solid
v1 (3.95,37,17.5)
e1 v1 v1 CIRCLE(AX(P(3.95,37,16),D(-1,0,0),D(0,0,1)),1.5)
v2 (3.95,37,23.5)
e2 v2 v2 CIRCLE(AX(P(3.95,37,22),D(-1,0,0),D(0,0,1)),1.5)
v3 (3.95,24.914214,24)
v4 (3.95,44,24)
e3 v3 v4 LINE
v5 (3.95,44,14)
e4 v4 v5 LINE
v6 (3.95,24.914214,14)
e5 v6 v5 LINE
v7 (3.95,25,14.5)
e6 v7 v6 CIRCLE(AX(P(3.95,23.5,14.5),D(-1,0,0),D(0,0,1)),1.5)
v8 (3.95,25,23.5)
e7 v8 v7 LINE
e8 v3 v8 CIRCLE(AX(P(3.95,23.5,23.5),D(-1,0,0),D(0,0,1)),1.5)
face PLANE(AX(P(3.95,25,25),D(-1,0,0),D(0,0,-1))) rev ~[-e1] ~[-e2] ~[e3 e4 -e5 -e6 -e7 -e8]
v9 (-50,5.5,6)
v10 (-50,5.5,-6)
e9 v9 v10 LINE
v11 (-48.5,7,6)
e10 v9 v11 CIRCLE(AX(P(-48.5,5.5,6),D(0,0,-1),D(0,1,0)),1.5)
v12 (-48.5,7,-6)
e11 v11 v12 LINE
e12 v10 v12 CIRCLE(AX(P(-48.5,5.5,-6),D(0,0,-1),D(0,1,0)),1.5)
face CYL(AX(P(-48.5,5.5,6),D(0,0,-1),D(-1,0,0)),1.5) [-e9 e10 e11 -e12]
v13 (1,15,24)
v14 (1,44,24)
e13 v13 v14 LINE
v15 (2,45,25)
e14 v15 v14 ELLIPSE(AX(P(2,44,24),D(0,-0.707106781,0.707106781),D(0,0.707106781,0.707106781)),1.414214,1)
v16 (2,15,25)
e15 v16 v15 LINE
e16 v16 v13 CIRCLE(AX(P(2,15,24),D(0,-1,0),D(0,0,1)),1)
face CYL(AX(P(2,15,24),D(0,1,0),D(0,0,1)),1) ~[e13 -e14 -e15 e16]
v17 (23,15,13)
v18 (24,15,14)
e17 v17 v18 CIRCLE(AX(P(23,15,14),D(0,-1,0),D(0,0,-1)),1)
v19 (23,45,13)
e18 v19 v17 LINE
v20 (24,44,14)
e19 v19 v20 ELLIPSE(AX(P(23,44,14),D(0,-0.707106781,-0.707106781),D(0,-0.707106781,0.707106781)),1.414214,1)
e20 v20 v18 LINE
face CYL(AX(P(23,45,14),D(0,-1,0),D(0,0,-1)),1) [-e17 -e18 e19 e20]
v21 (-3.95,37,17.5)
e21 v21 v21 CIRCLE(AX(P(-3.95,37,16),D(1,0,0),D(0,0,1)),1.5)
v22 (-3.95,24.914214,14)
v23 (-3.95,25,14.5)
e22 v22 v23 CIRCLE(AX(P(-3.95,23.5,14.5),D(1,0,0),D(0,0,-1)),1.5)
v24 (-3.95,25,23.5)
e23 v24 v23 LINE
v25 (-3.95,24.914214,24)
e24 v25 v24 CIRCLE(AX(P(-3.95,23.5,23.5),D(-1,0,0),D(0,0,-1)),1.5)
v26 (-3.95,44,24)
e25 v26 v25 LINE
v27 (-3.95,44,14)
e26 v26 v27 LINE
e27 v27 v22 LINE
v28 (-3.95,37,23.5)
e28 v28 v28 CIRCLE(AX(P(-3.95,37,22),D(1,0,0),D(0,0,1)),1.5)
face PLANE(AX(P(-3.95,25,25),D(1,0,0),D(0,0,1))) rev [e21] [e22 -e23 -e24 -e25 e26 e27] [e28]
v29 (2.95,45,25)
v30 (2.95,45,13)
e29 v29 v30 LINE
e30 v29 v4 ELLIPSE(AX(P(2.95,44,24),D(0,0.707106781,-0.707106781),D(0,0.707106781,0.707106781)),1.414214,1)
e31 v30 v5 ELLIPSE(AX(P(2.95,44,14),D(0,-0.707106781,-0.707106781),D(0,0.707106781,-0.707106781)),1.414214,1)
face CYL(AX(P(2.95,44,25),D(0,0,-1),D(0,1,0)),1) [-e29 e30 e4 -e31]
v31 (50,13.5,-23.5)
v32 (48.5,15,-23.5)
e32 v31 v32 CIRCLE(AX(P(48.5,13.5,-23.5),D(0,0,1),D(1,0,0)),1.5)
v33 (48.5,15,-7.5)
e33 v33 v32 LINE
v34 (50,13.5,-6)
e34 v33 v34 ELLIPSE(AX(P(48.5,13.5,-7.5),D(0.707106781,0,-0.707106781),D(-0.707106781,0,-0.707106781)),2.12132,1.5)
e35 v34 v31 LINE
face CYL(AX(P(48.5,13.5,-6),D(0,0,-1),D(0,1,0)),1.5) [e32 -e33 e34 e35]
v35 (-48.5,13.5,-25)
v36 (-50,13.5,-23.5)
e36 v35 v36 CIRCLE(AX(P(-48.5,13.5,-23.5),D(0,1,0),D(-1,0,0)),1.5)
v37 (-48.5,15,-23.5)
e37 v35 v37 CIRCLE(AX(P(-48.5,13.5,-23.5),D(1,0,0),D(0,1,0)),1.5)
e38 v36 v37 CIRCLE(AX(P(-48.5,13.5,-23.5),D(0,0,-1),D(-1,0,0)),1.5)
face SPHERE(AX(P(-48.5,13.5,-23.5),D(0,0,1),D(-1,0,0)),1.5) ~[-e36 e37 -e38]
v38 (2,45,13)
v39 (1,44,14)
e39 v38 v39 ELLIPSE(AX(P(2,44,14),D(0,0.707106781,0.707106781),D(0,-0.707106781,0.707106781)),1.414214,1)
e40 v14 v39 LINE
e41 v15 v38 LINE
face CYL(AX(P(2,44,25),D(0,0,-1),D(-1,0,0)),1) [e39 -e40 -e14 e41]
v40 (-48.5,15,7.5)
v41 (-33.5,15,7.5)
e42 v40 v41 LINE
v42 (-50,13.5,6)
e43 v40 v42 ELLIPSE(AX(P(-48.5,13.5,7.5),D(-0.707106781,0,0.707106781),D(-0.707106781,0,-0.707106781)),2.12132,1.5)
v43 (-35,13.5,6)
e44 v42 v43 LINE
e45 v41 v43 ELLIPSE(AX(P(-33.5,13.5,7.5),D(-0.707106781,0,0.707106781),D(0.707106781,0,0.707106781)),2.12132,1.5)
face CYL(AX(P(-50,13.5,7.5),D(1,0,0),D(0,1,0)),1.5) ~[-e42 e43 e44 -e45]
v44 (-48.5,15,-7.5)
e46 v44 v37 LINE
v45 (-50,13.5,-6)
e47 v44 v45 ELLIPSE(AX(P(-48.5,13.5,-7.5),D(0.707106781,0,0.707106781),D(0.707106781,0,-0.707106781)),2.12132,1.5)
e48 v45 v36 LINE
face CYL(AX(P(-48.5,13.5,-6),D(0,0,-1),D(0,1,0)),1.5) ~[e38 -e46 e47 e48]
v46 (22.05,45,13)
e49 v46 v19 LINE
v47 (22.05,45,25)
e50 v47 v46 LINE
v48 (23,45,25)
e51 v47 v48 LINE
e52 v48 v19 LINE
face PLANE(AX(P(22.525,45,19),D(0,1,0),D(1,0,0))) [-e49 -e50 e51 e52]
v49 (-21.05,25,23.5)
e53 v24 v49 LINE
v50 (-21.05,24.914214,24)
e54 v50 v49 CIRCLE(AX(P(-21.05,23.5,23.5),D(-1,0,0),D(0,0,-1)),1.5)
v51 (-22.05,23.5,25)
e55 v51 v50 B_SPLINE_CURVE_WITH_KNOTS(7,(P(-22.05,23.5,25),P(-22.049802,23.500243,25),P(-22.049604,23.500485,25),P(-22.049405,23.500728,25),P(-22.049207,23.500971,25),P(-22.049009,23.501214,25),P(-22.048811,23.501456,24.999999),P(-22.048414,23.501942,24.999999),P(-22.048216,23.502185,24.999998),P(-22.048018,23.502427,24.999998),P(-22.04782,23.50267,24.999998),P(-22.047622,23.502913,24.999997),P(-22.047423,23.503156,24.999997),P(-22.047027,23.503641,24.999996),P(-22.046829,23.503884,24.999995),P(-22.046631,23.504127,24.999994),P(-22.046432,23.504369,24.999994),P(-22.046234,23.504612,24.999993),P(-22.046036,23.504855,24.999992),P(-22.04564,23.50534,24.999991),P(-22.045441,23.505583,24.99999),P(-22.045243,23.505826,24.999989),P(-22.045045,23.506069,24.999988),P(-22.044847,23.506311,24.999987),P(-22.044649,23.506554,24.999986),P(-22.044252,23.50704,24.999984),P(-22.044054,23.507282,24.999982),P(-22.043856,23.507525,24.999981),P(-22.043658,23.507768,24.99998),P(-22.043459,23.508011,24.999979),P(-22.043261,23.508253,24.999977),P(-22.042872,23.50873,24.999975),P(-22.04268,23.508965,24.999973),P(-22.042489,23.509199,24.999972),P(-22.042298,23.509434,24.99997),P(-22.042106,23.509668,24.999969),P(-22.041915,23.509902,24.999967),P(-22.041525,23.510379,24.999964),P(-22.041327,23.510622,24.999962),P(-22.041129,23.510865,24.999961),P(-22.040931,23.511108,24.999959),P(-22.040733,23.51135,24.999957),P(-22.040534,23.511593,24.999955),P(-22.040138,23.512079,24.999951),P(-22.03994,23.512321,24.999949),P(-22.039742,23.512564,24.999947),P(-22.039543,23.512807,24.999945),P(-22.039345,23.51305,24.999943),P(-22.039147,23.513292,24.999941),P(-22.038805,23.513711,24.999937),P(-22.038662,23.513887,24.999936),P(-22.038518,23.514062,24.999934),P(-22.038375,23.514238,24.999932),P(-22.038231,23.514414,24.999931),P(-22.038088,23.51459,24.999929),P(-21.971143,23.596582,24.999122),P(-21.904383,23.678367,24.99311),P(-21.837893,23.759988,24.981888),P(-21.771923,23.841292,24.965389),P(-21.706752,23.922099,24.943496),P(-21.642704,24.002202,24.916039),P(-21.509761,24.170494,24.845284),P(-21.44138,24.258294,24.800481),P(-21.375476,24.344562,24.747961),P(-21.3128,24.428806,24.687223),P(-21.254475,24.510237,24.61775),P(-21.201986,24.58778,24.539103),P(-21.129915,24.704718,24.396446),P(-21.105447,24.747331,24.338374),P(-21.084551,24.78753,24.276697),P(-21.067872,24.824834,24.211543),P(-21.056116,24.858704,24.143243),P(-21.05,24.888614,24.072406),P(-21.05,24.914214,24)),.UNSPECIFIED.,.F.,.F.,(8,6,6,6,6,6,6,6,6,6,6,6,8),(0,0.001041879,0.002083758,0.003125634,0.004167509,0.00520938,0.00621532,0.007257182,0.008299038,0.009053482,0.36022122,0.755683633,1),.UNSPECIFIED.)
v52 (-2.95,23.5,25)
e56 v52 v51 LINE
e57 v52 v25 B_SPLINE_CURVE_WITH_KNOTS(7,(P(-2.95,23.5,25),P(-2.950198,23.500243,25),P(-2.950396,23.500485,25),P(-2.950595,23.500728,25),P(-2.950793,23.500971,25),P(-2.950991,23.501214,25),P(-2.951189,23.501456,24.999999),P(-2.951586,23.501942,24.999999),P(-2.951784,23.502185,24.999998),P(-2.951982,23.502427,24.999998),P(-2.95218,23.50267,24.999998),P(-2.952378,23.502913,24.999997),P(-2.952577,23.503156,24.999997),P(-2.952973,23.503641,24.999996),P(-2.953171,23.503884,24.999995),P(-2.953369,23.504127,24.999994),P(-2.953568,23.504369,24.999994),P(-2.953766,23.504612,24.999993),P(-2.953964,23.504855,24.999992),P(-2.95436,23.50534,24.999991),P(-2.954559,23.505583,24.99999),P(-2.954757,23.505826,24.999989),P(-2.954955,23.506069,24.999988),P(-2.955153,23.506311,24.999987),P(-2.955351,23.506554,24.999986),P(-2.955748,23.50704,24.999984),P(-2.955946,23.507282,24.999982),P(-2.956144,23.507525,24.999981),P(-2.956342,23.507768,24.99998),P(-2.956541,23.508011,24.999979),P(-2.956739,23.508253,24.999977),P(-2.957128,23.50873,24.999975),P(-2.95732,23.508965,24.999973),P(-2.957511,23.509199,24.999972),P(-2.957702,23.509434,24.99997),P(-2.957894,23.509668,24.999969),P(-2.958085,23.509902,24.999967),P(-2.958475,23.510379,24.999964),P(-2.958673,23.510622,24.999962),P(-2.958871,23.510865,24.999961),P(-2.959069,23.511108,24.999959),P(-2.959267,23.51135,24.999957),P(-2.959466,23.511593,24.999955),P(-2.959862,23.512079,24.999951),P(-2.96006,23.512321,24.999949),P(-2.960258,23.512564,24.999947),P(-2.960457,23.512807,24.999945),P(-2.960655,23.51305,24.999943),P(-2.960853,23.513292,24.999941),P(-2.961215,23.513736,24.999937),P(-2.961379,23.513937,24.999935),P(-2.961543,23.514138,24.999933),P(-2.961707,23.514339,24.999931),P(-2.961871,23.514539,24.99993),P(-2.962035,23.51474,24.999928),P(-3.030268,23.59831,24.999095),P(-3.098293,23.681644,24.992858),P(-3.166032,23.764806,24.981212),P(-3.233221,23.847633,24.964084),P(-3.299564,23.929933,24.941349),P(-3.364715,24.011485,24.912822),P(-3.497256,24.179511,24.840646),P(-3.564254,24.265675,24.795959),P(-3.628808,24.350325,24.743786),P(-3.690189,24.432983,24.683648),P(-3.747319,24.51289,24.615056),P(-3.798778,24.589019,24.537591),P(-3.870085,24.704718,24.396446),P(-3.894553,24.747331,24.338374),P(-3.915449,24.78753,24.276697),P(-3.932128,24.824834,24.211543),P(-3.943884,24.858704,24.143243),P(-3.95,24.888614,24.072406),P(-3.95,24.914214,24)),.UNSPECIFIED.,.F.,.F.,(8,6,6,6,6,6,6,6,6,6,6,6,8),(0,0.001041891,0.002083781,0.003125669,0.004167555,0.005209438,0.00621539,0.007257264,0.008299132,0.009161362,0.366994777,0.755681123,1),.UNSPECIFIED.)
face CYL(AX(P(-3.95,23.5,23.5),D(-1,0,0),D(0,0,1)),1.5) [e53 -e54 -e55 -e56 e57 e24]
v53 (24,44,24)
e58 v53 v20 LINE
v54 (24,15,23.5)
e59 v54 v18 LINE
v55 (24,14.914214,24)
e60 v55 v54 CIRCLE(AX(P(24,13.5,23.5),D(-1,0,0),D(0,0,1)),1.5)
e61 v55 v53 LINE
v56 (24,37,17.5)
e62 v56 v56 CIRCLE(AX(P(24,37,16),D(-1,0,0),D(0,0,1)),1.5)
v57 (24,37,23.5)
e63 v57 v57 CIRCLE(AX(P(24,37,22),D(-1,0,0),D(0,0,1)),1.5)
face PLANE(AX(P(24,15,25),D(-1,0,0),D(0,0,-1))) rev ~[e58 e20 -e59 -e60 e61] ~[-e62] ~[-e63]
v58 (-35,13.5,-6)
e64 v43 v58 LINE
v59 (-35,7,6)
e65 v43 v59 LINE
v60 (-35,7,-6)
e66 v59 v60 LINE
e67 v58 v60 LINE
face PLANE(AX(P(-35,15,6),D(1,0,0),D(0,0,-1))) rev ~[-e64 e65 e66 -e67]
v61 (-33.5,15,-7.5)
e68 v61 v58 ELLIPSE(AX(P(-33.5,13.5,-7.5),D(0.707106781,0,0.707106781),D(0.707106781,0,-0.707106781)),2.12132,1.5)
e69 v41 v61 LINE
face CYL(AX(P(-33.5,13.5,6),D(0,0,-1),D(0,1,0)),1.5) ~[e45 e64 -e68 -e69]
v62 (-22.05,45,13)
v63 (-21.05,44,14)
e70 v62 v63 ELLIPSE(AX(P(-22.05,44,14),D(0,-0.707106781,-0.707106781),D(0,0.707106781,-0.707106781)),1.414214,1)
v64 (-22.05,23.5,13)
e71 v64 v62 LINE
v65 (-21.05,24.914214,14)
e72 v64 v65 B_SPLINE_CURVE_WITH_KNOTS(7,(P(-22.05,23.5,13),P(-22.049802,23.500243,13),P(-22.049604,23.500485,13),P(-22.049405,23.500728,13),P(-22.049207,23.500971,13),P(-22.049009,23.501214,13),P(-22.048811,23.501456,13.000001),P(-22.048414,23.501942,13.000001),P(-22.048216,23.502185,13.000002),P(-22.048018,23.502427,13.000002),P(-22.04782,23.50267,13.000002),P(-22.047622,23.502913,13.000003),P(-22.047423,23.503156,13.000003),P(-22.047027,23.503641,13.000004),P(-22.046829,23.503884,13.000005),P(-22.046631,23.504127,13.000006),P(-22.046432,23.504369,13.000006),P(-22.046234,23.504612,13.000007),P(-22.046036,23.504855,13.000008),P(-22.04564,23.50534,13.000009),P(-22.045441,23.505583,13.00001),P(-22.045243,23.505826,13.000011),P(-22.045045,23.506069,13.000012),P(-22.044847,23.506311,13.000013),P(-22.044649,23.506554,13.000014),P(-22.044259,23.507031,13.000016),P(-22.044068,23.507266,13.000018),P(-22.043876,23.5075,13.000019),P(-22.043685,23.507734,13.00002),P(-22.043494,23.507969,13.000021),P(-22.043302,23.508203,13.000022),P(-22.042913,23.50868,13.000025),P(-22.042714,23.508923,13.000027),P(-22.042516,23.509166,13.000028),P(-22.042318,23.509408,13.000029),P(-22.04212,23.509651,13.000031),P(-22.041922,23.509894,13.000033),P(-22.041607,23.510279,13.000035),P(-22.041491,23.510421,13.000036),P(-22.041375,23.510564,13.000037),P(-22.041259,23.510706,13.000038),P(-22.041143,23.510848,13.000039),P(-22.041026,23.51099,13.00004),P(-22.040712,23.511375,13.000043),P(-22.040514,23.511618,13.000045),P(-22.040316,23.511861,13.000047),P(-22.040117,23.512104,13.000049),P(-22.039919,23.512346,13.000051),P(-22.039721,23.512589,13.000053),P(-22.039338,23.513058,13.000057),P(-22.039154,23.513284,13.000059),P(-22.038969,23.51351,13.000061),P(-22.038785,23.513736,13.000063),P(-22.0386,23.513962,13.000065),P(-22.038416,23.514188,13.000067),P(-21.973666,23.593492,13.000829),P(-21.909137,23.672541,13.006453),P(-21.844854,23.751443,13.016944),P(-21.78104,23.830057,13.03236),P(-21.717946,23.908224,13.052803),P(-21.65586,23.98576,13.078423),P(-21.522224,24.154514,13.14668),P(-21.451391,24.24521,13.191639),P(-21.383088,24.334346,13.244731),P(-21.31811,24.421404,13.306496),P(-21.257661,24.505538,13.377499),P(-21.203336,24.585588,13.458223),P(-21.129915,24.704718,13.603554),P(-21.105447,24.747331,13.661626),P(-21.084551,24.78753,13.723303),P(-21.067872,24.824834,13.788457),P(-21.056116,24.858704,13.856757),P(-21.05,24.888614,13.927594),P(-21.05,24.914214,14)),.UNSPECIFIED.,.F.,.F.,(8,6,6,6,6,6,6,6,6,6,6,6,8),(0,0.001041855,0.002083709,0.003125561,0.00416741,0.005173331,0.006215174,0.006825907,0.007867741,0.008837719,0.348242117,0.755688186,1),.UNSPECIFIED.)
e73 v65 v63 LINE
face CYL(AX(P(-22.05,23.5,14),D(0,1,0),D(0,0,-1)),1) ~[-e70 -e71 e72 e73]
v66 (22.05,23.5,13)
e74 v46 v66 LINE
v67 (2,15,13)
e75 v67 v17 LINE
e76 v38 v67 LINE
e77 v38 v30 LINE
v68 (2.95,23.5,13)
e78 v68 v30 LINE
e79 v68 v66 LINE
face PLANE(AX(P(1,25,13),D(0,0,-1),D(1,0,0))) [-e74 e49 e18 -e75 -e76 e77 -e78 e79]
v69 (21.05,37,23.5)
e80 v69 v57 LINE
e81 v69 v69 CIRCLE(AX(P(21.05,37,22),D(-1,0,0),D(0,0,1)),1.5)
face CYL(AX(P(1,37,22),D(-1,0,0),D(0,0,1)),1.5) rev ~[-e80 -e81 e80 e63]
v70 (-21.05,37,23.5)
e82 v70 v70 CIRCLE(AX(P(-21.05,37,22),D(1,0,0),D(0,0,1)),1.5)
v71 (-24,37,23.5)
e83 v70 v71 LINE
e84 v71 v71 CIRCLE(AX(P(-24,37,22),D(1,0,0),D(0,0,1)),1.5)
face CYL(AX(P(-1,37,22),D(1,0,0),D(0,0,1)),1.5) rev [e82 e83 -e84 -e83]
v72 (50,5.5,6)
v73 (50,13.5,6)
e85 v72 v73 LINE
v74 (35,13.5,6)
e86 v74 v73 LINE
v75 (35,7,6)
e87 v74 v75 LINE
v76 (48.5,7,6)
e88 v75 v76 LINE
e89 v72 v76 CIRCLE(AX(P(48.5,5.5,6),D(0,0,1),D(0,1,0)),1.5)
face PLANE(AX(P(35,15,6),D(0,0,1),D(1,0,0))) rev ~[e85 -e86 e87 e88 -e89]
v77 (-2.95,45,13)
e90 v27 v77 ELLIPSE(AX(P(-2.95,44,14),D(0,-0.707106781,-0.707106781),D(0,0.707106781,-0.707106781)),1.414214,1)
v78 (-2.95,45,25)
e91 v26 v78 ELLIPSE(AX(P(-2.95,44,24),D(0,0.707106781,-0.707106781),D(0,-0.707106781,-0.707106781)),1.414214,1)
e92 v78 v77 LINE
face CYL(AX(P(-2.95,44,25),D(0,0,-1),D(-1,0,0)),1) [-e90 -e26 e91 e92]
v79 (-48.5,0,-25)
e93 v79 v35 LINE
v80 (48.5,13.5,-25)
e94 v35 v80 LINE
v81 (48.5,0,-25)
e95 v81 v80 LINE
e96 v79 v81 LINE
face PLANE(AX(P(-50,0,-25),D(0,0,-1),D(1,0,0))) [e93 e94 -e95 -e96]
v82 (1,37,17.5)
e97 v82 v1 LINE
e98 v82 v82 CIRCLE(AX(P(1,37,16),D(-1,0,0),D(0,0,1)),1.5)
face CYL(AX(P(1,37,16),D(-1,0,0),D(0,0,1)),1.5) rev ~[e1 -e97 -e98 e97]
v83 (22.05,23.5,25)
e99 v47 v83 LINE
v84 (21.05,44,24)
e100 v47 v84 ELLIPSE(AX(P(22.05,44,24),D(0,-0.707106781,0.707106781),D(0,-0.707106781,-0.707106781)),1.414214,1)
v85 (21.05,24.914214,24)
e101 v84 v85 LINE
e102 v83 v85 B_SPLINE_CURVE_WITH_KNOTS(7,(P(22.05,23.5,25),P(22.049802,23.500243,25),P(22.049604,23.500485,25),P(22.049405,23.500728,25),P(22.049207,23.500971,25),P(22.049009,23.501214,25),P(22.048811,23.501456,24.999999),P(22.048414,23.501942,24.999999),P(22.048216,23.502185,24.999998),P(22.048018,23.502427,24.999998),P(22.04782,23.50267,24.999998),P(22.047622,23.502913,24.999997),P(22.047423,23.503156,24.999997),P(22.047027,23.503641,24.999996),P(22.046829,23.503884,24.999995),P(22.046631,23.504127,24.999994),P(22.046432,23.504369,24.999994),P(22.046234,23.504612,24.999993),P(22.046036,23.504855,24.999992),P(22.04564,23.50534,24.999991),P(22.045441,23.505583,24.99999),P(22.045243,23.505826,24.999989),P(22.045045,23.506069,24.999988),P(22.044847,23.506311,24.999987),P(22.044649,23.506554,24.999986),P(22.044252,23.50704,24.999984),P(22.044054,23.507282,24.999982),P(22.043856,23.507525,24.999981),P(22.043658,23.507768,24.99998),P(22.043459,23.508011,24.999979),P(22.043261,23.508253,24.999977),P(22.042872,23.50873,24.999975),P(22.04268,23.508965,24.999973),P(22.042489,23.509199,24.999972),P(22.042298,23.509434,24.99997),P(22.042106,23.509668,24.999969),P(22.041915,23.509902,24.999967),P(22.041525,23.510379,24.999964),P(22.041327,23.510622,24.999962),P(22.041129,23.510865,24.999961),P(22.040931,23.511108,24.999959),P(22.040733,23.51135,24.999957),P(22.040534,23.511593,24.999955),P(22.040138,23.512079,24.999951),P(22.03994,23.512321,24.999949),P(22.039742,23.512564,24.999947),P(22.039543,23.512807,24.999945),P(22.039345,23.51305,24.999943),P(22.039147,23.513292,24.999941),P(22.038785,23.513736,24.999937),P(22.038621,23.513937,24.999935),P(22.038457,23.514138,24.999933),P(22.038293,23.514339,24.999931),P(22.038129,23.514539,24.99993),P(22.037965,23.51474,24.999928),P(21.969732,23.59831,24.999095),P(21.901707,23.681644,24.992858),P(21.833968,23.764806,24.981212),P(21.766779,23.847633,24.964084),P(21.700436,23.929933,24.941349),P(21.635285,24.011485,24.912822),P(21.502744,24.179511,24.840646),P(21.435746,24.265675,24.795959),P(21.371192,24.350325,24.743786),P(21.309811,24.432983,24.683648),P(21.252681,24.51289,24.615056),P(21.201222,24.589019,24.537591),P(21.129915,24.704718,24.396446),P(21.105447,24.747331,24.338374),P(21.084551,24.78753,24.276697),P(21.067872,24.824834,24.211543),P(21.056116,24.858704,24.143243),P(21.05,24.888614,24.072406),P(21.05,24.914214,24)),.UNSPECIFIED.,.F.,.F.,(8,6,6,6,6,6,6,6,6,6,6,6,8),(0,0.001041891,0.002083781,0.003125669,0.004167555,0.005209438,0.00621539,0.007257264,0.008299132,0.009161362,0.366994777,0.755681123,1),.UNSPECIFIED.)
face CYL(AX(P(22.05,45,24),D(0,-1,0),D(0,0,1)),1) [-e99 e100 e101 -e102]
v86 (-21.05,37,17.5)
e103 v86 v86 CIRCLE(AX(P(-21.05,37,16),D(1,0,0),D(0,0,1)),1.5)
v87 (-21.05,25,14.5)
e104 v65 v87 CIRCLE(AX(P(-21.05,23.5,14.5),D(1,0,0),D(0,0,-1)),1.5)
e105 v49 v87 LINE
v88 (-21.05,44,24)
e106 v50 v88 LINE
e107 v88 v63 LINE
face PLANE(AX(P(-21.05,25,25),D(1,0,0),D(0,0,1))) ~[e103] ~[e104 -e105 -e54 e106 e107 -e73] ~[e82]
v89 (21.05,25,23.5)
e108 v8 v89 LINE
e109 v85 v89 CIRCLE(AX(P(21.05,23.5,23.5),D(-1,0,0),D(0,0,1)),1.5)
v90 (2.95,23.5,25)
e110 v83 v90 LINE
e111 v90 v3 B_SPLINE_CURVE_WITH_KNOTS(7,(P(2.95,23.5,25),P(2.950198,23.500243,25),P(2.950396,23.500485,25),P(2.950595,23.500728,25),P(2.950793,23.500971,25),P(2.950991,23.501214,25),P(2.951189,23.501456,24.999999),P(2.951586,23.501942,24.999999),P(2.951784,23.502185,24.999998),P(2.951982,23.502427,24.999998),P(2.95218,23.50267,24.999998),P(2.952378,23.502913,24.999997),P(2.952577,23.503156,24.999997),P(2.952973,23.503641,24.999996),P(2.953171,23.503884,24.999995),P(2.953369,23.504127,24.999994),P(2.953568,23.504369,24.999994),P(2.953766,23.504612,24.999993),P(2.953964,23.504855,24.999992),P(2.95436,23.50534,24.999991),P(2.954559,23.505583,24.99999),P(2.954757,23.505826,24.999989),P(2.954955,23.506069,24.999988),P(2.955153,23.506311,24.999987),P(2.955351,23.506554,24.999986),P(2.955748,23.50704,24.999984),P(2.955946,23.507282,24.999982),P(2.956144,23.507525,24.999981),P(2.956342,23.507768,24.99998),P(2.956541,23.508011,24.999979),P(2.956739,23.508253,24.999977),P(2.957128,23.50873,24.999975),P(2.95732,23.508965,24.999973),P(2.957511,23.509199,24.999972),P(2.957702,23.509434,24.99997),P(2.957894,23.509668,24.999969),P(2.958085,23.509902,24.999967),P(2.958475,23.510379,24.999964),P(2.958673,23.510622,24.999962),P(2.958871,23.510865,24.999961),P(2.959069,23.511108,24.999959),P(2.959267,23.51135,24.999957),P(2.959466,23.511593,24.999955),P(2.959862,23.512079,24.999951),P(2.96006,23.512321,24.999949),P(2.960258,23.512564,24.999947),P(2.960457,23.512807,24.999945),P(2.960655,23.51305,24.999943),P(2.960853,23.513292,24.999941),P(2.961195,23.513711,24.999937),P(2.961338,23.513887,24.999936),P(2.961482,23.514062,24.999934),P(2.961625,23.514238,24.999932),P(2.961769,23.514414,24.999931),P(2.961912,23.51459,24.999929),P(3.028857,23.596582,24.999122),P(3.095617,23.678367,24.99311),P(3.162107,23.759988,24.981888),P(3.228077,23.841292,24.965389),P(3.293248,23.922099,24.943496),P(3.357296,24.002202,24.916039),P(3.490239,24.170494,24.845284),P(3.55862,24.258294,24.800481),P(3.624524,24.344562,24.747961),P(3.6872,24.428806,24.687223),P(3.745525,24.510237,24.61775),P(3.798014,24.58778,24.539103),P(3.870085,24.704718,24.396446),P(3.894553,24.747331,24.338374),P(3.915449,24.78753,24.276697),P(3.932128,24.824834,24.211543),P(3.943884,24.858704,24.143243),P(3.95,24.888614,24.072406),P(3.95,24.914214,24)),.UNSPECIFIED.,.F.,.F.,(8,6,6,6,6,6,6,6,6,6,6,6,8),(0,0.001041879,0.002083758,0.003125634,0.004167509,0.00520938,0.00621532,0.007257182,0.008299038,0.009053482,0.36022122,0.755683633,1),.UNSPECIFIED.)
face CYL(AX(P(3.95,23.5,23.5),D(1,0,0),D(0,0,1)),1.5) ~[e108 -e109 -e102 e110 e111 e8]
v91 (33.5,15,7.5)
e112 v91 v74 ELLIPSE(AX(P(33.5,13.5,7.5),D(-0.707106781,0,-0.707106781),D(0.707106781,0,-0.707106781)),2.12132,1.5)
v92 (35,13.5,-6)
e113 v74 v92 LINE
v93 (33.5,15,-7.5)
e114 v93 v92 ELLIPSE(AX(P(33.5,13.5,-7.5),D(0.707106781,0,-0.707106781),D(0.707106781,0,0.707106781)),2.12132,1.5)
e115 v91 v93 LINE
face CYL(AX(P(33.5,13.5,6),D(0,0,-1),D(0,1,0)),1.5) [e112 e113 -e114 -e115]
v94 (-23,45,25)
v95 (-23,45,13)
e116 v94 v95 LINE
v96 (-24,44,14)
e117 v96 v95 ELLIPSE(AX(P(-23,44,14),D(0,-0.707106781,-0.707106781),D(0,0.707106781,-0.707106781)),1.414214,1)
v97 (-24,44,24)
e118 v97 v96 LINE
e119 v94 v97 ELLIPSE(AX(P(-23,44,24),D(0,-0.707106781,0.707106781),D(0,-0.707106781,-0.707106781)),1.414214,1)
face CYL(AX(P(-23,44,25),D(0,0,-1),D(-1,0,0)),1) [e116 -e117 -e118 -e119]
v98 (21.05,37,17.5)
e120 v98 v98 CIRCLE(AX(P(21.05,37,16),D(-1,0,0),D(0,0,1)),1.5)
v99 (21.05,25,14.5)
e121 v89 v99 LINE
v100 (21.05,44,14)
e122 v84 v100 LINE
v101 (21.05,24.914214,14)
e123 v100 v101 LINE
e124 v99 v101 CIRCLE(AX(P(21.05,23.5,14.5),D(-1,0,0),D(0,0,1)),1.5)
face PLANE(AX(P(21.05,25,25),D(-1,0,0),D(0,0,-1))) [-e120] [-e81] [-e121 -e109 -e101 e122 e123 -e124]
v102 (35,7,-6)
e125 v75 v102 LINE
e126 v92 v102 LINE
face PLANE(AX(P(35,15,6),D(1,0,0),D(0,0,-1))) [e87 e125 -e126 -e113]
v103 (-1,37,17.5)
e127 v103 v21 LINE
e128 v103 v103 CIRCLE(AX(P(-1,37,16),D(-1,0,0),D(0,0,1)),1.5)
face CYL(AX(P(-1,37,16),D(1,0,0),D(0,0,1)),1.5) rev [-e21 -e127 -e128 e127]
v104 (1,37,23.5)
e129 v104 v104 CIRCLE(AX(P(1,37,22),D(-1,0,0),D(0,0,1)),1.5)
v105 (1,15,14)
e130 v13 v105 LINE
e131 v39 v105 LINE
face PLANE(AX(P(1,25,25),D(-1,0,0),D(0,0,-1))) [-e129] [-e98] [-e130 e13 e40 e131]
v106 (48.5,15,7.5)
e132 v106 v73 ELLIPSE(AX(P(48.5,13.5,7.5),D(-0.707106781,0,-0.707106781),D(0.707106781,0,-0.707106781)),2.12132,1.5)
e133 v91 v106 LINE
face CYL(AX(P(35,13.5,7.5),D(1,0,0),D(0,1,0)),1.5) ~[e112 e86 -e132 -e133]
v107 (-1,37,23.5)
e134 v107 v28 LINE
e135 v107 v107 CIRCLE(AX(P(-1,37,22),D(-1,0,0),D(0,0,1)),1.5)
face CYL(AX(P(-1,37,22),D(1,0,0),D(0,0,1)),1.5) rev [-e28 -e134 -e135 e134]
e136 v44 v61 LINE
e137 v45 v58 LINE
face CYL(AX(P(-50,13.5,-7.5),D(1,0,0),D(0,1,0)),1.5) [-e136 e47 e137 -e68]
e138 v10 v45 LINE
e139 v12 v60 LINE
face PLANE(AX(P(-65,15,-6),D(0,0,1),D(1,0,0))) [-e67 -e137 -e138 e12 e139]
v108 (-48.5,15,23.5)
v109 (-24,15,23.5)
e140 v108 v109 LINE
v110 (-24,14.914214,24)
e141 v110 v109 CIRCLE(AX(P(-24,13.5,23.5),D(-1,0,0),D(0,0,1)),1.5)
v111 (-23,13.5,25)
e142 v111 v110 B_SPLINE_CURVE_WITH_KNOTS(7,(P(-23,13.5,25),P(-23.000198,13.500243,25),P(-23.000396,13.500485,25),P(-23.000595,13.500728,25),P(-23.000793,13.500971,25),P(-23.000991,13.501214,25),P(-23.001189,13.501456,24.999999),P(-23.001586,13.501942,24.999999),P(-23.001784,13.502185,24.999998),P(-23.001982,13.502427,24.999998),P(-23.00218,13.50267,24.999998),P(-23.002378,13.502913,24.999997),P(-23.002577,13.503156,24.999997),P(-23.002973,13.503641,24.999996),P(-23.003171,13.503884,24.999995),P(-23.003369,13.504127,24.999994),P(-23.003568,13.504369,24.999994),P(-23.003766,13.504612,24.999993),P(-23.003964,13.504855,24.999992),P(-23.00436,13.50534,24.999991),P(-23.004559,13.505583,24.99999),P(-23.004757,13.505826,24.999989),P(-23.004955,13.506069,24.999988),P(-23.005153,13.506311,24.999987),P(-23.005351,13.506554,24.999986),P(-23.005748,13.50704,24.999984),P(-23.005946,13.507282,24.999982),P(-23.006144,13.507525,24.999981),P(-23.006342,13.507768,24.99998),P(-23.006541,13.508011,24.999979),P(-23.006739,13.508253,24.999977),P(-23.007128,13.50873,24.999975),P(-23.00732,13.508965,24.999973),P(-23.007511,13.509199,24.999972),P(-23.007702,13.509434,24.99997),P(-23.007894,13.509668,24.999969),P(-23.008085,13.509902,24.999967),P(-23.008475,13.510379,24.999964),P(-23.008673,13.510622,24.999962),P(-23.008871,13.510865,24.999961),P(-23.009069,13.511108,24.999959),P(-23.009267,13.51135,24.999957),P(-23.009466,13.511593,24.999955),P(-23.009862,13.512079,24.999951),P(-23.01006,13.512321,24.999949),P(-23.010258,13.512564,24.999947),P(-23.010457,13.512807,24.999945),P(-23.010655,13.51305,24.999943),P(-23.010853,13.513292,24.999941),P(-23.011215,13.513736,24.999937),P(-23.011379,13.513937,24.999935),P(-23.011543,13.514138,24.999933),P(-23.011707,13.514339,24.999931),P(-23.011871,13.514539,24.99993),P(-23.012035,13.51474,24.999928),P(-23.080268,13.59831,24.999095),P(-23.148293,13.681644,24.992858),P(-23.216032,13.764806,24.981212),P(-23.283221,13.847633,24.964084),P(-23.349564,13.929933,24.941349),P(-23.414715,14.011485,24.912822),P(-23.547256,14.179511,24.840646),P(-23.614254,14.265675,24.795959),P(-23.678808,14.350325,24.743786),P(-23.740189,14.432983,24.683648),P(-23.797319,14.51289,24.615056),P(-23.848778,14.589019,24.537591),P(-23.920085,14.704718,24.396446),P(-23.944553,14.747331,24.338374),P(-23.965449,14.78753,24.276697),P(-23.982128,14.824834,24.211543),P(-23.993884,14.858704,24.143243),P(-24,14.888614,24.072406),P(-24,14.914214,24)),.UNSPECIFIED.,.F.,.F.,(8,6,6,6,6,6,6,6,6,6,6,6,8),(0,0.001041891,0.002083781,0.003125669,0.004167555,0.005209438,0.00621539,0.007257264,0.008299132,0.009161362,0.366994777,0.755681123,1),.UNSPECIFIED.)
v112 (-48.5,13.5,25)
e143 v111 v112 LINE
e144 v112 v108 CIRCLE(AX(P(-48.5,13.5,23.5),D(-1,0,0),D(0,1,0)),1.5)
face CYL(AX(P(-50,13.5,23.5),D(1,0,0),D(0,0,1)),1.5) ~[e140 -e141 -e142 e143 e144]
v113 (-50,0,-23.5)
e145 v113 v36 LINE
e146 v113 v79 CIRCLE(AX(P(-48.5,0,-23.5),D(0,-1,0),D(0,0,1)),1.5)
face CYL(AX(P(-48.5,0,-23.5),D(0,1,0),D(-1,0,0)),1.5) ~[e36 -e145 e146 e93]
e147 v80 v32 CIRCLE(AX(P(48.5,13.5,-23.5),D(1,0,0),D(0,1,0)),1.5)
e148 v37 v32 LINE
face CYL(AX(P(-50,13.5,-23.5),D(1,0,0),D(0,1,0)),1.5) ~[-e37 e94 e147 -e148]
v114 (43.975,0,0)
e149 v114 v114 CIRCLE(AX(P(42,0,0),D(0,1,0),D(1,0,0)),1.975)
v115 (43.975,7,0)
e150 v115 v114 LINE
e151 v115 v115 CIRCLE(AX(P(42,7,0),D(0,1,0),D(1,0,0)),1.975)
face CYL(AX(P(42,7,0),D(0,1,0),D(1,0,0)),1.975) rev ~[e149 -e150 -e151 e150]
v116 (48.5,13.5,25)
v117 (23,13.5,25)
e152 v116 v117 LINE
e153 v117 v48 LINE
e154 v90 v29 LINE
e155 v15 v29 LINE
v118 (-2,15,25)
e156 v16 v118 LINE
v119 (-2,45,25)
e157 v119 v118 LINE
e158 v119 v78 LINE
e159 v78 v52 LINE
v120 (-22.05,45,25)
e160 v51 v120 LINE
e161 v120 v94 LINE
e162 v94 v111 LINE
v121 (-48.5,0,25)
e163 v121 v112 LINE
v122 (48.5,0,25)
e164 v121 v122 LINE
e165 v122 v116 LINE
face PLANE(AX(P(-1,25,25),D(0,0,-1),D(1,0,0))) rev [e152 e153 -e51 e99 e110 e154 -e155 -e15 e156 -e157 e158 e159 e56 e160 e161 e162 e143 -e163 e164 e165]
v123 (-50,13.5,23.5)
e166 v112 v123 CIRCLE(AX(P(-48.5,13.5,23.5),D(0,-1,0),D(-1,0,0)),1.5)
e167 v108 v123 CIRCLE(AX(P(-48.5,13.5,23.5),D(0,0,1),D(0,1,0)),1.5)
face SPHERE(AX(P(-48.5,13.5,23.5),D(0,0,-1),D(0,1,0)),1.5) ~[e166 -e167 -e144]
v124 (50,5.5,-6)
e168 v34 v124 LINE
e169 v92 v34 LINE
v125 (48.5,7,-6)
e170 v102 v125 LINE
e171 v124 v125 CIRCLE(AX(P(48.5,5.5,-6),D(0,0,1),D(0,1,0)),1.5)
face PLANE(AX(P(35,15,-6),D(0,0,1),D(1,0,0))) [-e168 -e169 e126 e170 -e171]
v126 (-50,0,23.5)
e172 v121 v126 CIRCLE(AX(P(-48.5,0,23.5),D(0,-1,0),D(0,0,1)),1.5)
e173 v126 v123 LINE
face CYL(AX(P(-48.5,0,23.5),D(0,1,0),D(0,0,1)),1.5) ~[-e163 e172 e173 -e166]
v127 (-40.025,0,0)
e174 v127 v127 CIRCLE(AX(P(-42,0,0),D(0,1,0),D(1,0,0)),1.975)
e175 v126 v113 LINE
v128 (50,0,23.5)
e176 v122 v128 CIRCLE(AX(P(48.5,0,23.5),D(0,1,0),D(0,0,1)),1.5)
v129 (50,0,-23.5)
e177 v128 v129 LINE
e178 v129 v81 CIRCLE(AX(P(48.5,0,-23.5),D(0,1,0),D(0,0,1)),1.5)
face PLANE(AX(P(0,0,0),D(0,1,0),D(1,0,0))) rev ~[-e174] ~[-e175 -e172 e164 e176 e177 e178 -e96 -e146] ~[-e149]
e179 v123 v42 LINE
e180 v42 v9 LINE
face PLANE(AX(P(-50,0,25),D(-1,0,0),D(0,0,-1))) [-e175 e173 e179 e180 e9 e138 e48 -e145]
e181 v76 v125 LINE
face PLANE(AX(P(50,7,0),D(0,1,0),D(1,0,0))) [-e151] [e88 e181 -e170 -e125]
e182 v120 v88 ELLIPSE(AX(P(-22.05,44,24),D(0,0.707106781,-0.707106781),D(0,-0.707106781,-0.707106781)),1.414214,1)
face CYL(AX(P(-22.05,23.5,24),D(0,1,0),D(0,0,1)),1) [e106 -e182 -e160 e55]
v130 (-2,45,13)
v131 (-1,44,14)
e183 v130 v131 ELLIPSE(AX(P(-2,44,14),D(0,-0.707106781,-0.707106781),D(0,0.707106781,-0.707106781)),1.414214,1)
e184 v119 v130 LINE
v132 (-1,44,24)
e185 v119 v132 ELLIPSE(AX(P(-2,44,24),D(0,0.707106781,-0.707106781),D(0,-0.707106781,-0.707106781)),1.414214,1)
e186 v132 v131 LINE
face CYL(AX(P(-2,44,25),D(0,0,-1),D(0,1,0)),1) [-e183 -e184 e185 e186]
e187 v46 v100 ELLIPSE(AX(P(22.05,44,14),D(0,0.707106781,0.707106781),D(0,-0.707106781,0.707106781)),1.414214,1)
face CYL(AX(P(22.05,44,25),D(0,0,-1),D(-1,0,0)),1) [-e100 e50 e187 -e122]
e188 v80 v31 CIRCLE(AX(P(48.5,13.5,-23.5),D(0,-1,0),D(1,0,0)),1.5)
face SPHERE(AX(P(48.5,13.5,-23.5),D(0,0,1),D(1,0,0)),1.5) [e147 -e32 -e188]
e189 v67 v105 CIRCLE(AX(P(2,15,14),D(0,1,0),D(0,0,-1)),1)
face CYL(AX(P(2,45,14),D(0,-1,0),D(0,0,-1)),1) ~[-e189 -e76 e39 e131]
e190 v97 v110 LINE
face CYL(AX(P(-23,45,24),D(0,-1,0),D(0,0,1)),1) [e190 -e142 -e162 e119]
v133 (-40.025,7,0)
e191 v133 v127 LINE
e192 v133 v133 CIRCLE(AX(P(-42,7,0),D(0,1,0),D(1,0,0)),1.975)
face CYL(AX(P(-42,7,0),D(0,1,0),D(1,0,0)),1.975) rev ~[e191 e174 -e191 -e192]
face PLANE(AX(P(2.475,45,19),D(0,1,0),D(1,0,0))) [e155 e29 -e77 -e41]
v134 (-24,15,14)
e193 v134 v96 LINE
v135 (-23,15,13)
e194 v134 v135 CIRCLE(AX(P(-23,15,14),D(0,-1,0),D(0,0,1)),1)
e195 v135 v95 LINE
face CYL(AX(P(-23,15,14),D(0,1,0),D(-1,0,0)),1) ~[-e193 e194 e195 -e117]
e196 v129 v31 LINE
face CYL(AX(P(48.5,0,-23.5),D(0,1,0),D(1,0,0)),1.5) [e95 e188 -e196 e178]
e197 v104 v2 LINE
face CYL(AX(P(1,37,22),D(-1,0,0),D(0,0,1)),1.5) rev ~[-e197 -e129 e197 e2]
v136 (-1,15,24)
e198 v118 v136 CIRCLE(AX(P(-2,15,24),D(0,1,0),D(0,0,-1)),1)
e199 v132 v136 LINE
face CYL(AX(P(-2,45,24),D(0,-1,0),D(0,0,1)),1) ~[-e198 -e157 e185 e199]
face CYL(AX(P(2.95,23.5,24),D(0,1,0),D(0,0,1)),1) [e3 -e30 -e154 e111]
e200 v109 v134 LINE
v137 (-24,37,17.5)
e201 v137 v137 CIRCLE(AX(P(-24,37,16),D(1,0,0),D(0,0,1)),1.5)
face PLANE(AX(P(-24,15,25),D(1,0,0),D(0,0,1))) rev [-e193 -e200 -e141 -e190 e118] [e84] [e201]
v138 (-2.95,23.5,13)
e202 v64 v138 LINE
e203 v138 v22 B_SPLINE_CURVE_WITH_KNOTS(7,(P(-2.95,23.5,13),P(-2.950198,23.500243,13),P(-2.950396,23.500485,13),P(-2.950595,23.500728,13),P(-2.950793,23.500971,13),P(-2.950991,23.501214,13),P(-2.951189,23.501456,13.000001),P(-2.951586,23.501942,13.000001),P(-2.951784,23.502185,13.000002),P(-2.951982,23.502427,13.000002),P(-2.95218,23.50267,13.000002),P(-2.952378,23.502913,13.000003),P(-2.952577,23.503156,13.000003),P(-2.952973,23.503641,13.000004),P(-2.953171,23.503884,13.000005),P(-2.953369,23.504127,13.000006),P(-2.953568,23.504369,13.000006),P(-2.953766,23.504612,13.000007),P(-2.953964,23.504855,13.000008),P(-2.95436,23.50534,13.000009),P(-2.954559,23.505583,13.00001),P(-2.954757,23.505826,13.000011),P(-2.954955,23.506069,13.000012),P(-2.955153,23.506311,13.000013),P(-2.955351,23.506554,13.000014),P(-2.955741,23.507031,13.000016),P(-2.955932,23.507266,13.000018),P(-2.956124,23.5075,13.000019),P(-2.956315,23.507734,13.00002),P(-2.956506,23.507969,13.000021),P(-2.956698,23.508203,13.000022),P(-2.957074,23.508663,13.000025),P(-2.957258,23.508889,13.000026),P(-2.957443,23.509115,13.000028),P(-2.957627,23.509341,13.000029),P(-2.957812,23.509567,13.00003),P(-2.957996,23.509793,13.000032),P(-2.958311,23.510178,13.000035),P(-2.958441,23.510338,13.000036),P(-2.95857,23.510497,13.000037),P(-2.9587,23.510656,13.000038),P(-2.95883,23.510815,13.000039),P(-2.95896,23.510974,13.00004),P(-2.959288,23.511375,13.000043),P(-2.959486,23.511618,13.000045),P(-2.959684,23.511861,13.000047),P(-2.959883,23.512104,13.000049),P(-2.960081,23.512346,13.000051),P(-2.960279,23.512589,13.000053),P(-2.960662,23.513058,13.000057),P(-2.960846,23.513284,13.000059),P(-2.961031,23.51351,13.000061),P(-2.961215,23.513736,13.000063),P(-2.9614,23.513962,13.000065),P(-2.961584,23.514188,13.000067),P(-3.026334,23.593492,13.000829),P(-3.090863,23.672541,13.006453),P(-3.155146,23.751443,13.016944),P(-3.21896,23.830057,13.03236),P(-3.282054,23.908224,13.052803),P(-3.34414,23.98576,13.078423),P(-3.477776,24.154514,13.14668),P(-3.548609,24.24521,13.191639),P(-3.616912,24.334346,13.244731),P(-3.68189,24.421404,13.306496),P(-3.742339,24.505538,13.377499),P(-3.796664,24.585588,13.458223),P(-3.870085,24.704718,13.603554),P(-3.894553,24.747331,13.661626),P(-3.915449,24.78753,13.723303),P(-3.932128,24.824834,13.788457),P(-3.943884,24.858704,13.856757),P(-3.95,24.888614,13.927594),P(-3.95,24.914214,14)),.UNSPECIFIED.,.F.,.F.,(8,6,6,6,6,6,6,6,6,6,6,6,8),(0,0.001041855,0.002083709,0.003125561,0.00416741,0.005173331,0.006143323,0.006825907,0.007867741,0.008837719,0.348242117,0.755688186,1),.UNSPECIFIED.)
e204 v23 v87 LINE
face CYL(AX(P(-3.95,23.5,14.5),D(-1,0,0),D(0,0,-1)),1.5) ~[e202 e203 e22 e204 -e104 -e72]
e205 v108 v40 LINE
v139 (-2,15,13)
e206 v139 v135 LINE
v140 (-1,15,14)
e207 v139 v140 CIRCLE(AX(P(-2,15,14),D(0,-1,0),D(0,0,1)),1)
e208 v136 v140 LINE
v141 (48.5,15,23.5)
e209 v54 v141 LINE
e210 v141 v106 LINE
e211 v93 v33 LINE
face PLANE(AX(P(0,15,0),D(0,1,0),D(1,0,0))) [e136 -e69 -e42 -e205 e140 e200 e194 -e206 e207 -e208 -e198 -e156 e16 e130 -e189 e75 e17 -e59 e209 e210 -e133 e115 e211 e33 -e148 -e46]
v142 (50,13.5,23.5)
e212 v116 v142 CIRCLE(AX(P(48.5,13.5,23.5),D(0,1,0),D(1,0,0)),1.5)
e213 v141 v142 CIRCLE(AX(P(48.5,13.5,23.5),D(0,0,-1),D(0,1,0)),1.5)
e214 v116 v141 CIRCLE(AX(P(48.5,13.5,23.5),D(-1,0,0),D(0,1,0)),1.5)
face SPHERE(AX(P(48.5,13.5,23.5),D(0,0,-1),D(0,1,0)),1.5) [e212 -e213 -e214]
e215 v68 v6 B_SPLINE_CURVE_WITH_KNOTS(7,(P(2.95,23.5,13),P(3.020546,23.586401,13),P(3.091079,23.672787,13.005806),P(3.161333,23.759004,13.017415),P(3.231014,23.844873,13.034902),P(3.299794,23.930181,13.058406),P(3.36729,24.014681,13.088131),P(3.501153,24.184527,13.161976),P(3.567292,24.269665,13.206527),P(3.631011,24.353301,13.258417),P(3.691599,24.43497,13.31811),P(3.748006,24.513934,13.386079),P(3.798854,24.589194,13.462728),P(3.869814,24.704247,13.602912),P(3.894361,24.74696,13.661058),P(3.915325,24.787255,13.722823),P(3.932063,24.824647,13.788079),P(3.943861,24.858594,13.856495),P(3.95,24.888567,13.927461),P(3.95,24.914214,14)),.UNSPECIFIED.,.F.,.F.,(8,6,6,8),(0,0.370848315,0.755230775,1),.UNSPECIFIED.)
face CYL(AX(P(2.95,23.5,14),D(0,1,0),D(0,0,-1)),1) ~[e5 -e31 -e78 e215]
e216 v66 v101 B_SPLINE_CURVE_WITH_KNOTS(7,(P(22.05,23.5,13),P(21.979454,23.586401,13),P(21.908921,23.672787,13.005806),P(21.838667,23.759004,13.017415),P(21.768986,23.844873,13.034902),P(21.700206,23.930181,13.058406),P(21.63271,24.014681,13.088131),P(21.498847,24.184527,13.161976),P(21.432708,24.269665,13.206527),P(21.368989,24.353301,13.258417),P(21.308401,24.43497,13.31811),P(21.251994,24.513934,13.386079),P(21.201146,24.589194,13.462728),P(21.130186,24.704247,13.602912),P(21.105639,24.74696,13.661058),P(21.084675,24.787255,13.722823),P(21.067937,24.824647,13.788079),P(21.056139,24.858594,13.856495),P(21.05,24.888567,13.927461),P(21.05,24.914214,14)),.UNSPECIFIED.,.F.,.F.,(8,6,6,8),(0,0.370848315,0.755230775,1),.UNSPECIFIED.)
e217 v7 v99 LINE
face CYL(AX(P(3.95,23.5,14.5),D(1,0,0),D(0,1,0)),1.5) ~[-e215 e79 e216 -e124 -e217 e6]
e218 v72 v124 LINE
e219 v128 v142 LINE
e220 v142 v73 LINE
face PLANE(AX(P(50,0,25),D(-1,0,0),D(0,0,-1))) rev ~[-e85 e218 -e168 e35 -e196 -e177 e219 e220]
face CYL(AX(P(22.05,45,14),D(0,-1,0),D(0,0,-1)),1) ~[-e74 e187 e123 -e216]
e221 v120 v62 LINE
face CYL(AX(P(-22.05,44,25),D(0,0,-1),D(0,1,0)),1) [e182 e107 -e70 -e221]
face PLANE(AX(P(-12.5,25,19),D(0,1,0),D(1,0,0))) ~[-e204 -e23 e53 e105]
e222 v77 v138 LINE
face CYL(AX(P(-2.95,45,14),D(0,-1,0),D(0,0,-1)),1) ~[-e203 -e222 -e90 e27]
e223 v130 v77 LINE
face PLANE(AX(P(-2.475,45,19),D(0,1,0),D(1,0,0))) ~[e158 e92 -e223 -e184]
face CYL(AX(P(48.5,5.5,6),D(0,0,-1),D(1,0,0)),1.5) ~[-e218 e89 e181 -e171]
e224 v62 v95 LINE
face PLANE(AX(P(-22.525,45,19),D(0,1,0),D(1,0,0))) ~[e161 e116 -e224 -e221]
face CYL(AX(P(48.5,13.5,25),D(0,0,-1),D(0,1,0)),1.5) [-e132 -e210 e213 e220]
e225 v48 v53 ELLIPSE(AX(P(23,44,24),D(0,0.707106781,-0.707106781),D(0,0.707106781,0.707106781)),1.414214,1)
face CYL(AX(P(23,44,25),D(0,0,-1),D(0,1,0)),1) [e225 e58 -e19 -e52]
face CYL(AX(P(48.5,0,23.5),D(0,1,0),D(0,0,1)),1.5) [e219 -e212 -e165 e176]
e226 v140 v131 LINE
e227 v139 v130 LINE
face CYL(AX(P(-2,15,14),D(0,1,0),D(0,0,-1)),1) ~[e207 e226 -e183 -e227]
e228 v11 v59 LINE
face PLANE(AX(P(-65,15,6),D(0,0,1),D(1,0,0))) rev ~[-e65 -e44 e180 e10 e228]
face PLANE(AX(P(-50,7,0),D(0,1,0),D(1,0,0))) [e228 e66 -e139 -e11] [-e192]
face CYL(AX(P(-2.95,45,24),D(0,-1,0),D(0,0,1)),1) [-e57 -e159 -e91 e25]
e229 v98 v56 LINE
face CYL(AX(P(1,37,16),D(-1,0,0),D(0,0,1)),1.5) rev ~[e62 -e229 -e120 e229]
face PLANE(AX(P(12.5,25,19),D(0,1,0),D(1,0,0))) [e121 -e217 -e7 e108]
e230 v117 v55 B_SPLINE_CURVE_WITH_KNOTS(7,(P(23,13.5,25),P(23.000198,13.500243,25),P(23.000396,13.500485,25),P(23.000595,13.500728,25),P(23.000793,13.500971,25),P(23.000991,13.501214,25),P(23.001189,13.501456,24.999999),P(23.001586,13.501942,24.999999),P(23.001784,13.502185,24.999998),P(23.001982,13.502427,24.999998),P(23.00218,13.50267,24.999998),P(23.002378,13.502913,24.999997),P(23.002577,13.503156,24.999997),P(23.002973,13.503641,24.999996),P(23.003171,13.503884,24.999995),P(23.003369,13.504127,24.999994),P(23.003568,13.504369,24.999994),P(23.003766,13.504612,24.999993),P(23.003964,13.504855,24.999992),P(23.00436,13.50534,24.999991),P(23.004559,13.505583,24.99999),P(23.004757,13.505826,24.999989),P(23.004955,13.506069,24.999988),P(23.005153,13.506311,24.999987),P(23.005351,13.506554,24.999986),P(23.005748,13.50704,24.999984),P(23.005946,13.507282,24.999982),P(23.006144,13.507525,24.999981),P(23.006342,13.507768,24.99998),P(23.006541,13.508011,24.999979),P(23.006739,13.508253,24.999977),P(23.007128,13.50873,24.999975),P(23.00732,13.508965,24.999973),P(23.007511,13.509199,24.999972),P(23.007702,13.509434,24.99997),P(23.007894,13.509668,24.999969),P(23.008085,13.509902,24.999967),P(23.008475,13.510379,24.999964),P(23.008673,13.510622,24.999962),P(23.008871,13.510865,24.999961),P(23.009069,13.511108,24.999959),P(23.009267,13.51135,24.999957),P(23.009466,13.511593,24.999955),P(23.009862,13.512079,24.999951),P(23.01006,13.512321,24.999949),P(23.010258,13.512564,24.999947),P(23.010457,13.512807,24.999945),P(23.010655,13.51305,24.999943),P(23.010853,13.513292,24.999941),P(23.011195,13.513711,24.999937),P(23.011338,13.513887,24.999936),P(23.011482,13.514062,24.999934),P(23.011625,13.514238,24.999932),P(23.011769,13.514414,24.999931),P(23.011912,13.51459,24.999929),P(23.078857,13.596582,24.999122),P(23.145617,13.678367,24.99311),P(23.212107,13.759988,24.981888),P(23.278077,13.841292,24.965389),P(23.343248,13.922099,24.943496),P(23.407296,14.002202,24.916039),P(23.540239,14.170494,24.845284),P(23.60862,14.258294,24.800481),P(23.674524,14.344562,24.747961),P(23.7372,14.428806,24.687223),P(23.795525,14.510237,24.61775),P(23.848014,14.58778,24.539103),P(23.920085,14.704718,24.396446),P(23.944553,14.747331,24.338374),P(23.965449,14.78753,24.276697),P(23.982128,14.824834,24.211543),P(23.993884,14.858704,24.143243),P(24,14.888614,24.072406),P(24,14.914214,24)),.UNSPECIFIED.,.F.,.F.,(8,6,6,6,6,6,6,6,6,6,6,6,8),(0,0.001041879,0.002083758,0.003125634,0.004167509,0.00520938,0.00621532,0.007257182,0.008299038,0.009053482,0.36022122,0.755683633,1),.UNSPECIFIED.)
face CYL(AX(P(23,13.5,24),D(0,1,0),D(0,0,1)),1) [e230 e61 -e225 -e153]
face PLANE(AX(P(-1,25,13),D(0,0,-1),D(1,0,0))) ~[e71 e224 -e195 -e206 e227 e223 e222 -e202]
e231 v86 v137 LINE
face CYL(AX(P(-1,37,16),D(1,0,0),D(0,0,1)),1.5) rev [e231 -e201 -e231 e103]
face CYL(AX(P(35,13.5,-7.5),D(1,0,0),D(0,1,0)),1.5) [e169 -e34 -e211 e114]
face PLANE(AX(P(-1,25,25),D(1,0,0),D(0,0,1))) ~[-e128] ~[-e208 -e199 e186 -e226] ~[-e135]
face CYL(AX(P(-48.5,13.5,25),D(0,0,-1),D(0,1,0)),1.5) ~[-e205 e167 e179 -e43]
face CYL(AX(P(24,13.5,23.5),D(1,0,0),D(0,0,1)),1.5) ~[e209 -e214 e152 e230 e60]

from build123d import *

# Parameters (mm, degrees)
SKETCH1_W           = 100
SKETCH1_H           = 50
BOSS_EXTRUDE1_DEPTH = 15
SKETCH2_W           = 30
SKETCH2_H           = 12
CUT_EXTRUDE1_DEPTH  = 8
SKETCH7_W           = 23
SKETCH7_H           = 12
BOSS_EXTRUDE2_DEPTH = 10
SKETCH8_W           = 2.95
SKETCH8_H           = 12
BOSS_EXTRUDE3_DEPTH = 20
SKETCH10_R          = 1.5
CUT_EXTRUDE2_DEPTH  = 50
FILLET1_R           = 1.5
FILLET2_R           = 1
SKETCH11_R          = 1.975
CUT_EXTRUDE3_DEPTH  = 20
SKETCH12_R          = 1.975
CUT_EXTRUDE4_DEPTH  = 20


with BuildPart() as part:
    # Sketch1 → Boss-Extrude1 (new body)
    with BuildSketch(Plane(origin=(0, 0, 0), x_dir=(1, 0, 0), z_dir=(0, 1, 0))):
        Rectangle(SKETCH1_W, SKETCH1_H)
    extrude(amount=BOSS_EXTRUDE1_DEPTH)

    # Sketch2 → Cut-Extrude1 (cut)
    with BuildSketch(Plane(origin=(0, 15, 0), x_dir=(1, 0, 0), z_dir=(0, 1, 0))):
        with Locations((-50, 0)):
            Rectangle(SKETCH2_W, SKETCH2_H)
        with Locations((50, 0)):
            Rectangle(SKETCH2_W, SKETCH2_H)
    extrude(amount=-CUT_EXTRUDE1_DEPTH, mode=Mode.SUBTRACT)

    # Sketch7 → Boss-Extrude2 (add)
    with BuildSketch(Plane(origin=(0, 15, 0), x_dir=(1, 0, 0), z_dir=(0, 1, 0))):
        with Locations((12.5, -19)):
            Rectangle(SKETCH7_W, SKETCH7_H)
    boss_extrude2 = extrude(amount=BOSS_EXTRUDE2_DEPTH)

    # Sketch8 → Boss-Extrude3 (add)
    with BuildSketch(Plane(origin=(0, 25, 0), x_dir=(1, 0, 0), z_dir=(0, 1, 0))):
        with Locations((2.475, -19)):
            Rectangle(SKETCH8_W, SKETCH8_H)
        with Locations((22.525, -19)):
            Rectangle(SKETCH8_W, SKETCH8_H)
    boss_extrude3 = extrude(amount=BOSS_EXTRUDE3_DEPTH)

    # Sketch10 → Cut-Extrude2 (cut, through all)
    with BuildSketch(Plane.ZY.offset(-1)):
        with Locations((16, 37)):
            Circle(SKETCH10_R)
        with Locations((22, 37)):
            Circle(SKETCH10_R)
    cut_extrude2 = extrude(amount=-CUT_EXTRUDE2_DEPTH, mode=Mode.SUBTRACT)

    # Mirror1: Boss-Extrude2, Boss-Extrude3, Cut-Extrude2 across plane
    add(boss_extrude2.mirror(Plane(origin=(0, 0, 0), x_dir=(0, 0, 1), z_dir=(1, 0, 0))))
    add(boss_extrude3.mirror(Plane(origin=(0, 0, 0), x_dir=(0, 0, 1), z_dir=(1, 0, 0))))
    add(cut_extrude2.mirror(Plane(origin=(0, 0, 0), x_dir=(0, 0, 1), z_dir=(1, 0, 0))), mode=Mode.SUBTRACT)

    # Fillet1
    fillet1_edges = [part.edges().sort_by_distance(p)[0] for p in [
        (-12.5, 25, 25),
        (-12.5, 25, 13),
        (-50, 15, -15.5),
        (50, 15, -15.5),
        (-50, 15, 15.5),
        (42.5, 15, -6),
        (-37, 15, 25),
        (-42.5, 15, 6),
        (-50, 7, 0),
        (50, 7, 0),
        (-35, 15, 0),
        (-42.5, 15, -6),
        (42.5, 15, 6),
        (35, 15, 0),
        (50, 15, 15.5),
        (37, 15, 25),
        (12.5, 25, 25),
        (12.5, 25, 13),
        (50, 7.5, 25),
        (-50, 7.5, 25),
        (-50, 7.5, -25),
        (50, 7.5, -25),
        (0, 15, -25),
    ]]
    fillet(fillet1_edges, radius=FILLET1_R)

    # Fillet2
    fillet2_edges = [part.edges().sort_by_distance(p)[0] for p in [
        (-24, 30, 13),
        (-24, 30, 25),
        (-1, 30, 25),
        (-1, 30, 13),
        (-3.95, 45, 19),
        (-3.95, 35, 13),
        (-3.95, 35, 25),
        (-1, 45, 19),
        (-21.05, 35, 13),
        (-24, 45, 19),
        (-21.05, 45, 19),
        (-21.05, 35, 25),
        (24, 30, 25),
        (24, 30, 13),
        (1, 30, 13),
        (1, 30, 25),
        (3.95, 35, 13),
        (3.95, 35, 25),
        (1, 45, 19),
        (3.95, 45, 19),
        (21.05, 35, 13),
        (21.05, 35, 25),
        (21.05, 45, 19),
        (24, 45, 19),
    ]]
    fillet(fillet2_edges, radius=FILLET2_R)

    # Sketch11 → Cut-Extrude3 (cut)
    with BuildSketch(Plane(origin=(0, 7, 0), x_dir=(1, 0, 0), z_dir=(0, 1, 0))):
        with Locations((42, 0)):
            Circle(SKETCH11_R)
    extrude(amount=-CUT_EXTRUDE3_DEPTH, mode=Mode.SUBTRACT)

    # Sketch12 → Cut-Extrude4 (cut)
    with BuildSketch(Plane(origin=(0, 7, 0), x_dir=(1, 0, 0), z_dir=(0, 1, 0))):
        with Locations((-42, 0)):
            Circle(SKETCH12_R)
    extrude(amount=-CUT_EXTRUDE4_DEPTH, mode=Mode.SUBTRACT)


solid = part.part
